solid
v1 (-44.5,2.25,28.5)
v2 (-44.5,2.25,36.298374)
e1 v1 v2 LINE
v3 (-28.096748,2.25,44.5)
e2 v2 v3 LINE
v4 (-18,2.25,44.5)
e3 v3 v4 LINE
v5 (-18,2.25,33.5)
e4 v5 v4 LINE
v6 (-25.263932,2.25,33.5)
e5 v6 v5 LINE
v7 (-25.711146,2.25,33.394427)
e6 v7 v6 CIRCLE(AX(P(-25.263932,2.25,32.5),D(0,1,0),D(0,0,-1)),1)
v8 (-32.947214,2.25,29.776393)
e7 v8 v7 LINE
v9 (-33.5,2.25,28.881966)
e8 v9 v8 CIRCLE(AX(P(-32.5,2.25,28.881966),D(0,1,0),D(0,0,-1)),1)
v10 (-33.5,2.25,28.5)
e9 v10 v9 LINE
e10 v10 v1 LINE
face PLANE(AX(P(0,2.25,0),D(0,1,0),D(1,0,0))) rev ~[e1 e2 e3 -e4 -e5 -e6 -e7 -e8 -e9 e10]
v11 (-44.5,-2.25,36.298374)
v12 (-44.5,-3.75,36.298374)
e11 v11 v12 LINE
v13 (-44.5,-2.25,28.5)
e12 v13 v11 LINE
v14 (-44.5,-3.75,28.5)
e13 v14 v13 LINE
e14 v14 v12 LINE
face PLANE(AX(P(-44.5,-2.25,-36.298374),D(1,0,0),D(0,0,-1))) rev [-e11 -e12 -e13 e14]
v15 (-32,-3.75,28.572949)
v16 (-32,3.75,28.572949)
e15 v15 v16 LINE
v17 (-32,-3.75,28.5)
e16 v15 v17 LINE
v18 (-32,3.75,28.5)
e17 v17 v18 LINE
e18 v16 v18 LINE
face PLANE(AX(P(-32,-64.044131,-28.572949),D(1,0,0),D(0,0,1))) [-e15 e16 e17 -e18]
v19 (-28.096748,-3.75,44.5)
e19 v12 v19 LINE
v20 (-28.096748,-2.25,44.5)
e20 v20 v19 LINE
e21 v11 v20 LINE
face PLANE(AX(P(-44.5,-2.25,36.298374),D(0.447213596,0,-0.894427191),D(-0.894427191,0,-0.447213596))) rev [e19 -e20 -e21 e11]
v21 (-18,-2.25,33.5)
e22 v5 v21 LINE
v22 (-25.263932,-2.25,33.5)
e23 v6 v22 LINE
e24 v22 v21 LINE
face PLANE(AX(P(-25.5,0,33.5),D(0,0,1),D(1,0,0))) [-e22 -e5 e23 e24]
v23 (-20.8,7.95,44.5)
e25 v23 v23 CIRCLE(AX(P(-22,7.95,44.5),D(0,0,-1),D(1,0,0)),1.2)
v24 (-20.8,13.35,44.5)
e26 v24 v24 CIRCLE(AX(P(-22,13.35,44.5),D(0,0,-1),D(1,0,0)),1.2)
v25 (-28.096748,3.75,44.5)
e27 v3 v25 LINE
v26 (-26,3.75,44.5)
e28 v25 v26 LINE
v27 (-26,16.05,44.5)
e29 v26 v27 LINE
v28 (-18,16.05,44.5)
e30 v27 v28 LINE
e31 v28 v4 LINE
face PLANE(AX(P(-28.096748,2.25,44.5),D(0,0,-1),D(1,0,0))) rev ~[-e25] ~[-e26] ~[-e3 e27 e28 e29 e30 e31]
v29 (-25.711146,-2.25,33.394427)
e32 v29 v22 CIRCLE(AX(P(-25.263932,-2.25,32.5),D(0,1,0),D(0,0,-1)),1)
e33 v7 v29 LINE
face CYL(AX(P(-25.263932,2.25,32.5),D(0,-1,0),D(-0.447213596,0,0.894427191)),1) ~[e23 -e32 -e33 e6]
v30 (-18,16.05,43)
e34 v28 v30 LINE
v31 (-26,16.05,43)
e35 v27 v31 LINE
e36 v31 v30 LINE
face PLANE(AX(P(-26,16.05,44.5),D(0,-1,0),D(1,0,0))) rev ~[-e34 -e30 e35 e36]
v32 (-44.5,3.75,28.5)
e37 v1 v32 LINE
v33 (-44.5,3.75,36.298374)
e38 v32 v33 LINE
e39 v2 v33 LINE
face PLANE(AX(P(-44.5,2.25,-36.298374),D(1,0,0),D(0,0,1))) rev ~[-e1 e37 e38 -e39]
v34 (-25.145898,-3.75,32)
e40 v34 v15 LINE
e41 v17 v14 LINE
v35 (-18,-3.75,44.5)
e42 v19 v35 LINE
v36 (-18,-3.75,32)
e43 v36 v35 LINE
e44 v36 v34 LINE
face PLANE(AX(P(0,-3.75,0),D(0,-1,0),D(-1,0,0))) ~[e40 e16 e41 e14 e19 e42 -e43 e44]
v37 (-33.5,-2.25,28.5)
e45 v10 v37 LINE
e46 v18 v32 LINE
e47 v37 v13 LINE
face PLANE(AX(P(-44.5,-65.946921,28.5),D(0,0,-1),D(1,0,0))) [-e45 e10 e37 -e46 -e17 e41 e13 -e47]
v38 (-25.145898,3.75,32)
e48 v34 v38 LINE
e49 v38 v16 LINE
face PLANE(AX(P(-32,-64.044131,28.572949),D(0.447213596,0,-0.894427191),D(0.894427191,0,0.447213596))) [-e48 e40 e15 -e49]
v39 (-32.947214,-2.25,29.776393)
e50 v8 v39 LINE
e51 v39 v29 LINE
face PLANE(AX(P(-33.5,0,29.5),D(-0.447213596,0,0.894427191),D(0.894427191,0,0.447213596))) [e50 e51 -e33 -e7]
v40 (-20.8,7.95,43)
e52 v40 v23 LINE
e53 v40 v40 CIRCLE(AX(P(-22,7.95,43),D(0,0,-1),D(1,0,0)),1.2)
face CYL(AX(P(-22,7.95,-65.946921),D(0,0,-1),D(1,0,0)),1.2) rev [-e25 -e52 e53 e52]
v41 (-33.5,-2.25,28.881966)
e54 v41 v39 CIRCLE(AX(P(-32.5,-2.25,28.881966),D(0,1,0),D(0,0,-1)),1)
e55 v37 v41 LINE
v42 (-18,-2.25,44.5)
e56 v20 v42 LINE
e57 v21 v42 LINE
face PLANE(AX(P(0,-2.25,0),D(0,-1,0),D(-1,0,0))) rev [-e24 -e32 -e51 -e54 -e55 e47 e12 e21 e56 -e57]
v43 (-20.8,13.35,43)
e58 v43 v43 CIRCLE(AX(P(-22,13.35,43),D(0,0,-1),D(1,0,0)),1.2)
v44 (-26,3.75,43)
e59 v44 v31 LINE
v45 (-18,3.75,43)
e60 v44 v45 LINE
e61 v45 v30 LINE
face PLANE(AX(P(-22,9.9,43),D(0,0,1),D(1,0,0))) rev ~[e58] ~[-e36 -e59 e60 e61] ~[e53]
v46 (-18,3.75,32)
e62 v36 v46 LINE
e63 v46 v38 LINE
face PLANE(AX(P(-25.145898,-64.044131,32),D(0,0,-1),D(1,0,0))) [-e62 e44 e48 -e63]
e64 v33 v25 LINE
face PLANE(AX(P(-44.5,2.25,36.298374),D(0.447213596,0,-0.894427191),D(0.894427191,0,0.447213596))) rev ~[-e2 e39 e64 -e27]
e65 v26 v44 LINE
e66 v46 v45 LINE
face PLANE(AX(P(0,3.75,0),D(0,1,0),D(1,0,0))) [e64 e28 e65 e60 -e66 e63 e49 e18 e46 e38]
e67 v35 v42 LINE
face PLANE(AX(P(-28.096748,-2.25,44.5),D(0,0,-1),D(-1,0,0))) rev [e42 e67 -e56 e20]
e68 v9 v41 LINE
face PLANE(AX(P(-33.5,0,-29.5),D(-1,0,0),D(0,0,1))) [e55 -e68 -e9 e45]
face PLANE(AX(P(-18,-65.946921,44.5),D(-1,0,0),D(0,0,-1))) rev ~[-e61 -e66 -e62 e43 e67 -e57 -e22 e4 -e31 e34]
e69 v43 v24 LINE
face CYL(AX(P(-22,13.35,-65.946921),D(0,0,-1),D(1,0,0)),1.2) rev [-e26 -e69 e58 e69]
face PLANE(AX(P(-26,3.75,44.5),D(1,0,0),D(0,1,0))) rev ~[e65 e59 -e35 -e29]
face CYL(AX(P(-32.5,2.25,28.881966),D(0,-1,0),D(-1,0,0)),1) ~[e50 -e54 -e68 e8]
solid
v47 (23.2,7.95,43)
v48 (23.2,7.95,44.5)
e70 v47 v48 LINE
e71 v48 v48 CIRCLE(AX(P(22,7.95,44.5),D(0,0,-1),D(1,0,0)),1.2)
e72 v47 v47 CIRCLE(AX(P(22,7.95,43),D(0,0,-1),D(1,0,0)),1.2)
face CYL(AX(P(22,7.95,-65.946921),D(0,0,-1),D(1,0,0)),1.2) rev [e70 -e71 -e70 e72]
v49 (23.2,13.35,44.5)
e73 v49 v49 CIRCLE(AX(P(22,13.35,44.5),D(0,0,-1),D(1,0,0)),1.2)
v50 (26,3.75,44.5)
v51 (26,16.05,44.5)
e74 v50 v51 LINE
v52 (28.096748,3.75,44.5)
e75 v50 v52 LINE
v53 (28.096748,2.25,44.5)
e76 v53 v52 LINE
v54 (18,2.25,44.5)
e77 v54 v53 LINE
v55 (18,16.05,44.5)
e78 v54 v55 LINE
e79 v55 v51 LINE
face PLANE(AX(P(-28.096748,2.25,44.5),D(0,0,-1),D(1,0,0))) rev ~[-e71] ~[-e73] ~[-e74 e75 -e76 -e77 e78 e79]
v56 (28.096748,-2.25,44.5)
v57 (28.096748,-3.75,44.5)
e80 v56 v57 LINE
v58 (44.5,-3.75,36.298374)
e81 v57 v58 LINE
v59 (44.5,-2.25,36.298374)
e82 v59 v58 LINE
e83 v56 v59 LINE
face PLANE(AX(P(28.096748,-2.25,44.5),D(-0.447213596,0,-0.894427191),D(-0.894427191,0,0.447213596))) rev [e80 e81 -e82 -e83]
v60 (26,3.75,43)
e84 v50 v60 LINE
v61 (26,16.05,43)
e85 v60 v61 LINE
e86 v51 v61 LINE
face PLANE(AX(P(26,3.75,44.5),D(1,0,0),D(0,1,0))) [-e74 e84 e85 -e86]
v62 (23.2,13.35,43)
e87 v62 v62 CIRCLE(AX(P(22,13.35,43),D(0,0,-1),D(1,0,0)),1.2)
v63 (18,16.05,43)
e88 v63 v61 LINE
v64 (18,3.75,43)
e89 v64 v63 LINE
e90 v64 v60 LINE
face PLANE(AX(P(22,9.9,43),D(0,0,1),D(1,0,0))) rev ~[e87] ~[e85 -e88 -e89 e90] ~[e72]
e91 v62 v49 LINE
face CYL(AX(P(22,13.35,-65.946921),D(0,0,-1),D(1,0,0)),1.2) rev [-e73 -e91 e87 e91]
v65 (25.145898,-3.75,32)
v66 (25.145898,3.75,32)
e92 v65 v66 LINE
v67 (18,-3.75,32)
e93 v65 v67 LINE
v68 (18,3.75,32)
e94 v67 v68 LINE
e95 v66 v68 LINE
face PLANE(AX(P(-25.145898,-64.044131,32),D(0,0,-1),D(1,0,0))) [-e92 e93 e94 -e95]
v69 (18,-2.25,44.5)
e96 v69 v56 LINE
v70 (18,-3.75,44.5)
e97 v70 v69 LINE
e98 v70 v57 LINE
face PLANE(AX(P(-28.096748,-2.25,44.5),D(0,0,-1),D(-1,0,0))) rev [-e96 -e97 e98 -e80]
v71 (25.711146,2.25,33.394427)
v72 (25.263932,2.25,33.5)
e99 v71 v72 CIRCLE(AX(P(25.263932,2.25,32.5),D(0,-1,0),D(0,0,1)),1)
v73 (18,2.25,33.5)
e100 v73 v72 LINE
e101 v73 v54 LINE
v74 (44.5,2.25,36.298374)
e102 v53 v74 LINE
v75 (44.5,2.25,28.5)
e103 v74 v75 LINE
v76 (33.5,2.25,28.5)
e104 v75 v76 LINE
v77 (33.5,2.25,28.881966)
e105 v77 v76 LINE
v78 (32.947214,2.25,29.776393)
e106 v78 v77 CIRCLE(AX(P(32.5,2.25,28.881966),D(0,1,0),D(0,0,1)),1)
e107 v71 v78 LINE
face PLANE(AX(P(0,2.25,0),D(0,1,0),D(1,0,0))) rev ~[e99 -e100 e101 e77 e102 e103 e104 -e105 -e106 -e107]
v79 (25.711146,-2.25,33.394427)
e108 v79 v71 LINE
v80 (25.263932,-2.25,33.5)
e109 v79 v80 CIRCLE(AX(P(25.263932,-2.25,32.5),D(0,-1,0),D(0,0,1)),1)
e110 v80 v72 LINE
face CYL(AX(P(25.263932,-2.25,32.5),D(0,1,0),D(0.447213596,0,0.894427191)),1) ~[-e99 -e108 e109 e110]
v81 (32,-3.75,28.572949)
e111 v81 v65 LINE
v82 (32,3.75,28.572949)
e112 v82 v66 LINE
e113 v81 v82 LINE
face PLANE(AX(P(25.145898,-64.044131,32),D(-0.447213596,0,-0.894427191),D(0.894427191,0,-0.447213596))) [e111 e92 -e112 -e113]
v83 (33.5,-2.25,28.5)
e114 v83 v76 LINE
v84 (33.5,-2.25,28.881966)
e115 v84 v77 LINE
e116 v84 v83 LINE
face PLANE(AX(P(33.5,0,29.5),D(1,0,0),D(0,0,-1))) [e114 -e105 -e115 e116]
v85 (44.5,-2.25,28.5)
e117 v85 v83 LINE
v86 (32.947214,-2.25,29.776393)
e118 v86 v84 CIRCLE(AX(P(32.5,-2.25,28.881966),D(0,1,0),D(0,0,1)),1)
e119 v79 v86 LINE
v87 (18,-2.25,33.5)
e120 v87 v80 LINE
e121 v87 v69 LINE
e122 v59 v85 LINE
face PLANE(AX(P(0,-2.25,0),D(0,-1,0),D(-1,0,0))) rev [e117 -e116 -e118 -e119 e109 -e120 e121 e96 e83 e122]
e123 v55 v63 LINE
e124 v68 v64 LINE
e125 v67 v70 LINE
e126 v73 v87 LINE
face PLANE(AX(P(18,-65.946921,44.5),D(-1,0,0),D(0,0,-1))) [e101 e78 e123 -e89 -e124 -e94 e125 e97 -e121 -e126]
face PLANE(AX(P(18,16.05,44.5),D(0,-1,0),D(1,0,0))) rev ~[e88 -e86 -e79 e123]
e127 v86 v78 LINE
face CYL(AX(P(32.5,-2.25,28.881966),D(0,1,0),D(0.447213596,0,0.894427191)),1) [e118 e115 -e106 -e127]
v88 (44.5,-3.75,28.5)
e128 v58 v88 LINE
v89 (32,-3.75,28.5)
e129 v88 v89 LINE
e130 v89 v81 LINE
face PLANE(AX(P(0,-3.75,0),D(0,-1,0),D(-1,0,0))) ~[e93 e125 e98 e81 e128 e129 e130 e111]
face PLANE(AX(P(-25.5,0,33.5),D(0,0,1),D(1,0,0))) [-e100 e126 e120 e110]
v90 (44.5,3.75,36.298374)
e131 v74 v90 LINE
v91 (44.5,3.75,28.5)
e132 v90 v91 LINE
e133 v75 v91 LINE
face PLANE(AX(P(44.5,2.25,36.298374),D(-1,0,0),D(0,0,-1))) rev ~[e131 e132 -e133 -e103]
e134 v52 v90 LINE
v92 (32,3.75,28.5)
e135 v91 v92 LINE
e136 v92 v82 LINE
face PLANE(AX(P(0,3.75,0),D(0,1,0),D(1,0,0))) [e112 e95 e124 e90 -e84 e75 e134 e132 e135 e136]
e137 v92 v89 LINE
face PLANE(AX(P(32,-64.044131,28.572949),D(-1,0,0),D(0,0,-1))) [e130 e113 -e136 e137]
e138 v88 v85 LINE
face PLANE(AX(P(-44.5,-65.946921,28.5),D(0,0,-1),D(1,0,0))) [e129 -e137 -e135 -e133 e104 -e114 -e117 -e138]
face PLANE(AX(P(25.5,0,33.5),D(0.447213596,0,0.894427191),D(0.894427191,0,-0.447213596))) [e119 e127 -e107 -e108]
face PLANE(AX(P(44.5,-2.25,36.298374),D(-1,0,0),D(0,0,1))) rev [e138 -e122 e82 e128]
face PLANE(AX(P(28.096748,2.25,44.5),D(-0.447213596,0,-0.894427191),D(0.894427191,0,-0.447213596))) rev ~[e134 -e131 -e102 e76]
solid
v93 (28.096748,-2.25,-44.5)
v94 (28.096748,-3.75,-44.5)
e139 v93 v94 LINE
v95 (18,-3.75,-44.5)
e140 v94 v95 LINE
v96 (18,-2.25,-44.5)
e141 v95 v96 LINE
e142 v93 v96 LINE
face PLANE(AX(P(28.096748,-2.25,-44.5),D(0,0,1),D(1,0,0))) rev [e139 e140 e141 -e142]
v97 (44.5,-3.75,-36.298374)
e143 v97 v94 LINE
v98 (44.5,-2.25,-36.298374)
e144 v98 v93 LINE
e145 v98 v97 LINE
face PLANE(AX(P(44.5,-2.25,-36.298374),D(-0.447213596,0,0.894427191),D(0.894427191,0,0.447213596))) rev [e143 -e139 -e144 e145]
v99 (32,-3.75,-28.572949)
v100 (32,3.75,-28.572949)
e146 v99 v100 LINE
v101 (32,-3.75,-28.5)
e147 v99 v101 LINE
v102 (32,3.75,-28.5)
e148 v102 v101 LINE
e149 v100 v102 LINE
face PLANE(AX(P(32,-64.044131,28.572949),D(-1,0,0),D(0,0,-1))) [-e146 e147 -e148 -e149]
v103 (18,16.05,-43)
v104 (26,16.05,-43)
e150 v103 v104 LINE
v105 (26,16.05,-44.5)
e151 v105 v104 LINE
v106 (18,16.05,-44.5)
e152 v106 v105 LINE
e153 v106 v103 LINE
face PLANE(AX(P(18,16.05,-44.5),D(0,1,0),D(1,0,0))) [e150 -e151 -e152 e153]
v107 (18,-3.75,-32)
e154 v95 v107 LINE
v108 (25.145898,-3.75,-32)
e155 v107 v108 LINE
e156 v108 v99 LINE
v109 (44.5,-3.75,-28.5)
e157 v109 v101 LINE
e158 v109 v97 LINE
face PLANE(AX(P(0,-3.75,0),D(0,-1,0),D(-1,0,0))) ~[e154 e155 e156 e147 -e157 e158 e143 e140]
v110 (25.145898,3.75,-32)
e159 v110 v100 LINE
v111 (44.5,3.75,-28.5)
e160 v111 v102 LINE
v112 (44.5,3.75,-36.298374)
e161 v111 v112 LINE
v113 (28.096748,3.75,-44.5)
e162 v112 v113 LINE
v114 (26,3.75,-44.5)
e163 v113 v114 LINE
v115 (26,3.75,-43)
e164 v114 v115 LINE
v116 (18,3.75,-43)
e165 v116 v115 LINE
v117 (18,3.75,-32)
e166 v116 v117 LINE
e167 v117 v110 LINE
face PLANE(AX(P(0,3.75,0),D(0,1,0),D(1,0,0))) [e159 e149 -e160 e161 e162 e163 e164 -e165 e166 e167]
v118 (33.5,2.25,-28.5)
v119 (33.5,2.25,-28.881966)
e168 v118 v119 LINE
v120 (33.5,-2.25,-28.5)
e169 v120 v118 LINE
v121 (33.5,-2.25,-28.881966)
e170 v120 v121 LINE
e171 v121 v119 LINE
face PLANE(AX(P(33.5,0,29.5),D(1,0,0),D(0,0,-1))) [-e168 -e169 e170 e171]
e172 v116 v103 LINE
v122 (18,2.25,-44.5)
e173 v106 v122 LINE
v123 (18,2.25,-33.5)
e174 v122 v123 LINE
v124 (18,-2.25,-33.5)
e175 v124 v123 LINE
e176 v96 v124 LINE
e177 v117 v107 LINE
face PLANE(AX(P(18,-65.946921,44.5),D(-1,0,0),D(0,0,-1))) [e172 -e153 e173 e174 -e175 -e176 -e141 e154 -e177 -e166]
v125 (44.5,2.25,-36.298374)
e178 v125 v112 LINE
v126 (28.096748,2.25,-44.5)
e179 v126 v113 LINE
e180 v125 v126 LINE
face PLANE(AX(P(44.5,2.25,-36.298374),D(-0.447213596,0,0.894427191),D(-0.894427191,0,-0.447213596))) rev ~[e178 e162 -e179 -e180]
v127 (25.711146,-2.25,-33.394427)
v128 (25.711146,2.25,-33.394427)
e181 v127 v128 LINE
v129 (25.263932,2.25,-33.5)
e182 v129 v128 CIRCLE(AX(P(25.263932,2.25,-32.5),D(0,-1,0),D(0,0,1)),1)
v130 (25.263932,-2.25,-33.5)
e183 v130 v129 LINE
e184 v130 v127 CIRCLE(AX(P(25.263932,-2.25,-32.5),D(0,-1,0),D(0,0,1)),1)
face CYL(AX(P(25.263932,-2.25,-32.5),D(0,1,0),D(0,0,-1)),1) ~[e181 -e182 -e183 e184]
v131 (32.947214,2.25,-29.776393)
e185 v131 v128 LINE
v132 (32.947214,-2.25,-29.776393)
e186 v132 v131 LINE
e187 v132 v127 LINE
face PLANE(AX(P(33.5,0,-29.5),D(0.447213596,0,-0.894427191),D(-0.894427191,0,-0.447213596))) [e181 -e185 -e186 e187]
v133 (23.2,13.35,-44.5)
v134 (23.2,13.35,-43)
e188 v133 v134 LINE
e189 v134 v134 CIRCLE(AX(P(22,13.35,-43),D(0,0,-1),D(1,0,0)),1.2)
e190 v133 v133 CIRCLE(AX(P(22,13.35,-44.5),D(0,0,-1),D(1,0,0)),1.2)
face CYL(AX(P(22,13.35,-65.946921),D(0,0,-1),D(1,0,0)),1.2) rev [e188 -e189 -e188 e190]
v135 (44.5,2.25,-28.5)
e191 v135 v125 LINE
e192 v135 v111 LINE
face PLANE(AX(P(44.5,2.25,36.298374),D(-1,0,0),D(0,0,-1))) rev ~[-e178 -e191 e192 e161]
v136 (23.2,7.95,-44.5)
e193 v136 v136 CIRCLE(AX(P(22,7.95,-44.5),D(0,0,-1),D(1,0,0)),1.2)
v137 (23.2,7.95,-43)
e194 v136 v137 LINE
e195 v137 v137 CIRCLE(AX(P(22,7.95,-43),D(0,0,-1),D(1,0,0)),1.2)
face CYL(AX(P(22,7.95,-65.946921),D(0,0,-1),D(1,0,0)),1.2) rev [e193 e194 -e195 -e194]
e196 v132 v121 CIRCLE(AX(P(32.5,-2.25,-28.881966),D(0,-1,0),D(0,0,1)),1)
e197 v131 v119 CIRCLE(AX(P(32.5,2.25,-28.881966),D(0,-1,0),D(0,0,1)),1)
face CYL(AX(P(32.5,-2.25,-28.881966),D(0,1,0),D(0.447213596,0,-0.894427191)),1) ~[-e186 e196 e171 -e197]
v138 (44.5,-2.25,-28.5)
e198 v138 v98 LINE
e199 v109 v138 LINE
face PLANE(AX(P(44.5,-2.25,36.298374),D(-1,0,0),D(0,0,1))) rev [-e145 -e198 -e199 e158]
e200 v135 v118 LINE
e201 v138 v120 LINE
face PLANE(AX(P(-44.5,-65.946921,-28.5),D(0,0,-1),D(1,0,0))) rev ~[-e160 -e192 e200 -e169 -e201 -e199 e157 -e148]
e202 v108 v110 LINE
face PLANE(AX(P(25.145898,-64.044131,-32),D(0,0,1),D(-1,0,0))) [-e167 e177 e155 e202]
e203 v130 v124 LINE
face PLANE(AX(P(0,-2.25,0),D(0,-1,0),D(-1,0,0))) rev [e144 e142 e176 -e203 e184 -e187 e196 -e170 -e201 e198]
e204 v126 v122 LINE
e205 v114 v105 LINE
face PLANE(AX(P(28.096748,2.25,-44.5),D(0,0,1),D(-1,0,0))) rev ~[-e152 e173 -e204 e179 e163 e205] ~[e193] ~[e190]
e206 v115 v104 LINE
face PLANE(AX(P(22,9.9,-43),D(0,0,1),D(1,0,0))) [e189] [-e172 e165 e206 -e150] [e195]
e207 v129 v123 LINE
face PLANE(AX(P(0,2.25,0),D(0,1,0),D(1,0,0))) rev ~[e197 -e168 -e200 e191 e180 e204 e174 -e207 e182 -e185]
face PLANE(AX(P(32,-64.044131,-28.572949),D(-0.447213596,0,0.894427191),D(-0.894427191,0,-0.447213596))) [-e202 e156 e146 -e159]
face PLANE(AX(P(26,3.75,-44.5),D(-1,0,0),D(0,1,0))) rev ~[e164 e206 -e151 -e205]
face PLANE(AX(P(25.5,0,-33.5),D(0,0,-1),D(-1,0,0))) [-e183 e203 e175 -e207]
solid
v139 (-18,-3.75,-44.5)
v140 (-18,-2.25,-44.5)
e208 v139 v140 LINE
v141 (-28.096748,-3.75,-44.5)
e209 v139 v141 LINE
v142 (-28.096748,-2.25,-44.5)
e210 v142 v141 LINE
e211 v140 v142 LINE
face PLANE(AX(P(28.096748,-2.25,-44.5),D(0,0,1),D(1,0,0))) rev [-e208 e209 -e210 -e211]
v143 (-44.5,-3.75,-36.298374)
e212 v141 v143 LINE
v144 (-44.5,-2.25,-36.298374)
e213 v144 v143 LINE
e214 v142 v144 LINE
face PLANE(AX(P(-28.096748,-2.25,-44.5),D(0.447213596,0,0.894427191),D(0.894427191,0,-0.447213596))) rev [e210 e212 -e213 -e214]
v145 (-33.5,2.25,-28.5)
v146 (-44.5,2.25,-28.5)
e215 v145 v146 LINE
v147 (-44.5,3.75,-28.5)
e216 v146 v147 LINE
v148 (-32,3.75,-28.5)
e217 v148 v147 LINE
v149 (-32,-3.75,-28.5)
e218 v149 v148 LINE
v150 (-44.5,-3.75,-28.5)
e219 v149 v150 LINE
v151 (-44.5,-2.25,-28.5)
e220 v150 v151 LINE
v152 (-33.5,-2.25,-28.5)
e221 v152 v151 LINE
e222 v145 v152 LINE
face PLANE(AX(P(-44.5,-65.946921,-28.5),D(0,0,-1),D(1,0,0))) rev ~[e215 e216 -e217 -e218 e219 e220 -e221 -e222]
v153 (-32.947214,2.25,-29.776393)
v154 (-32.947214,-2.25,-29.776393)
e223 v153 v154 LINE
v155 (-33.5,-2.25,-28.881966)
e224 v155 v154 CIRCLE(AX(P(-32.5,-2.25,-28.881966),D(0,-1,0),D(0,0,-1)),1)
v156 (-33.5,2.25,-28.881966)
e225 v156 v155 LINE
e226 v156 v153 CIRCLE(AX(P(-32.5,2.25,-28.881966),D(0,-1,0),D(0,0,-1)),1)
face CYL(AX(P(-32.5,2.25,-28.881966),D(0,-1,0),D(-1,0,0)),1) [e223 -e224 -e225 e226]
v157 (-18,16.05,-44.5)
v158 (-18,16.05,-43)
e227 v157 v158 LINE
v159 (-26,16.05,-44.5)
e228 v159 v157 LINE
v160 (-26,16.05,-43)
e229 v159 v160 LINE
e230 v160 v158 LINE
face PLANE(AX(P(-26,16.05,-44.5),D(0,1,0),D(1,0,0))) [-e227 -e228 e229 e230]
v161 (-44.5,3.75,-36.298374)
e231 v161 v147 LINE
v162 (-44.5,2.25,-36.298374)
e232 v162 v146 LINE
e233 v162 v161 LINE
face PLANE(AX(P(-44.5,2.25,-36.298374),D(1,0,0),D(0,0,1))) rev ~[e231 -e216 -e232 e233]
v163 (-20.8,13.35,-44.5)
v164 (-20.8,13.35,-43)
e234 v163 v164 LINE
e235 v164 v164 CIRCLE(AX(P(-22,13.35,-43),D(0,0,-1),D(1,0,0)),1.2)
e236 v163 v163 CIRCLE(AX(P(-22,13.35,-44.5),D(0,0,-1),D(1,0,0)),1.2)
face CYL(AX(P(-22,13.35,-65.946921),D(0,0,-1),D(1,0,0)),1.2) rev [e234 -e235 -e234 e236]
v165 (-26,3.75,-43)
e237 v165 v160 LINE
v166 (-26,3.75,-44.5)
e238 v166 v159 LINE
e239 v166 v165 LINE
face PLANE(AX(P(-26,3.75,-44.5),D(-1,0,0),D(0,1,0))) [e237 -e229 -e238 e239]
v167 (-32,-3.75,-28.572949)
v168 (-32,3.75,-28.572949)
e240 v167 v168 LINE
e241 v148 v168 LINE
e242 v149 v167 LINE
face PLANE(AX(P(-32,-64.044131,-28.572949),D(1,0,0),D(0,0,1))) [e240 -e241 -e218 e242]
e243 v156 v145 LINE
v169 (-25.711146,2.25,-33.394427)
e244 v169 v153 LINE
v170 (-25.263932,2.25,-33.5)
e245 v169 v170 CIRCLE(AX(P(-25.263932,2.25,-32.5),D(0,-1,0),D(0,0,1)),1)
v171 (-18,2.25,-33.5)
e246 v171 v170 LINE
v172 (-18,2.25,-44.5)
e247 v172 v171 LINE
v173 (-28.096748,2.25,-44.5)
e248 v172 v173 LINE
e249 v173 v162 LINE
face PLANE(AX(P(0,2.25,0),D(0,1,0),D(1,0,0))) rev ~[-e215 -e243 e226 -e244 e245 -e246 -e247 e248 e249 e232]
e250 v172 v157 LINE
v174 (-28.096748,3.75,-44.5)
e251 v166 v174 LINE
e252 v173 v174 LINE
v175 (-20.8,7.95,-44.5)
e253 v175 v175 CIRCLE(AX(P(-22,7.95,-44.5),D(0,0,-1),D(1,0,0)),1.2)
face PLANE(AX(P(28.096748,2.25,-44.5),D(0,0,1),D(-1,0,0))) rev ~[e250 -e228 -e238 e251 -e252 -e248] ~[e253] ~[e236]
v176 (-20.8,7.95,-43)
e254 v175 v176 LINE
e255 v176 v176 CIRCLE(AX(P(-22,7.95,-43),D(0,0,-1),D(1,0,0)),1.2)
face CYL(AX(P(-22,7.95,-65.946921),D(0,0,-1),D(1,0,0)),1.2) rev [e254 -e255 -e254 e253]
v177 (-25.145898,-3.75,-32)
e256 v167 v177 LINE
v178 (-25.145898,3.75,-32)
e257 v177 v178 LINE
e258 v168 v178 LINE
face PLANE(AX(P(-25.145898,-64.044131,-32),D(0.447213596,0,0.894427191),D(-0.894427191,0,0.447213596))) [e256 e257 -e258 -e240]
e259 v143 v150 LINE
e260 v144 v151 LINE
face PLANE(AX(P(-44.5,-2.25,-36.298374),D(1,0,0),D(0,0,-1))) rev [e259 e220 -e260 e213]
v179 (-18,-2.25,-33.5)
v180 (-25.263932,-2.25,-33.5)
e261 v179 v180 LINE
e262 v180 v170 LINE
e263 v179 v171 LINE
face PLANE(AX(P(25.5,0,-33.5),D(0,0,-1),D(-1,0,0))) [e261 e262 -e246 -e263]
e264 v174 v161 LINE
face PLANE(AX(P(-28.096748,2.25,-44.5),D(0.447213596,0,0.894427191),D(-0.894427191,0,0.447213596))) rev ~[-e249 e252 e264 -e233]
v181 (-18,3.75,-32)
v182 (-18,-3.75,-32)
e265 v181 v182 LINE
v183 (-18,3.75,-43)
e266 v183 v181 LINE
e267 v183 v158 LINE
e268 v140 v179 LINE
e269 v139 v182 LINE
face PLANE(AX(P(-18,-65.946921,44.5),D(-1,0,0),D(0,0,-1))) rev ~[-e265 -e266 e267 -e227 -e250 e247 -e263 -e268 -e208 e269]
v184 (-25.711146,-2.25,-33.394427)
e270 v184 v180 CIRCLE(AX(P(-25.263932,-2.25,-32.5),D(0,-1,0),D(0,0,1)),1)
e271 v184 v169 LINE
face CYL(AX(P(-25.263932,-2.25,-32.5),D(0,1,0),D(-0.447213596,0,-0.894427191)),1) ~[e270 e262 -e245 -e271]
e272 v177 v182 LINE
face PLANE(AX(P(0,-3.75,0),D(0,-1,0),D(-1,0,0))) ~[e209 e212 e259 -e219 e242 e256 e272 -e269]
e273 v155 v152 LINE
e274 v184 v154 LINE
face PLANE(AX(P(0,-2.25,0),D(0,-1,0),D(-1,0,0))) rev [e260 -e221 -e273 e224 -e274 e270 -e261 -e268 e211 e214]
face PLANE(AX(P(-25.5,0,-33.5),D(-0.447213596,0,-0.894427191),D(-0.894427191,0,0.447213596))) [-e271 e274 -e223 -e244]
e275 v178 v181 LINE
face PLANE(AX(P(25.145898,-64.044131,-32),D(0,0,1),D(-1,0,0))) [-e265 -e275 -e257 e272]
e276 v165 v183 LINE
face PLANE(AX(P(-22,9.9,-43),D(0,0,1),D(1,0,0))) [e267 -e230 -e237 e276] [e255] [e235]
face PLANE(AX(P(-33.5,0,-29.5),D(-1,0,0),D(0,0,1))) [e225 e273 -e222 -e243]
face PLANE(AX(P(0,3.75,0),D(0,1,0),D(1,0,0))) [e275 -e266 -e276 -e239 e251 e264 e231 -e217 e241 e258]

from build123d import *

# Parameters (mm, degrees)
BOSS_EXTRUDE1_DEPTH     = 2.25
BOSS_EXTRUDE2_DEPTH     = 1.5
CUT_EXTRUDE1_DEPTH      = 64.044131368
CUT_EXTRUDE1_DEPTH_BACK = 64.044131368
BOSS_EXTRUDE3_START     = 44.5
SKETCH5_W               = 8
SKETCH5_H               = 12.3
BOSS_EXTRUDE3_DEPTH     = 1.5
BOSS_EXTRUDE4_START     = -44.5
SKETCH5_2_W             = 8
SKETCH5_2_H             = 12.3
BOSS_EXTRUDE4_DEPTH     = 1.5
CUT_EXTRUDE3_DEPTH      = 65.946920635
CUT_EXTRUDE3_DEPTH_BACK = 65.946920635
SKETCH6_R               = 1.2
CUT_EXTRUDE6_DEPTH      = 65.946920635
CUT_EXTRUDE6_DEPTH_BACK = 65.946920635
SKETCH7_W               = 89
SKETCH7_H               = 57
CUT_EXTRUDE7_DEPTH      = 65.946920635
CUT_EXTRUDE7_DEPTH_BACK = 65.946920635
SKETCH8_W               = 36
SKETCH8_H               = 89
FILLET1_R               = 1
FILLET2_R               = 1
FILLET3_R               = 1
FILLET4_R               = 1


with BuildPart() as part:
    # Sketch1 → Boss-Extrude1 (new, symmetric)
    with BuildSketch(Plane(origin=(0, 0, 0), x_dir=(1, 0, 0), z_dir=(0, 1, 0))):
        Polygon((-25.5, -33.5), (25.5, -33.5), (33.5, -29.5), (33.5, 29.5), (25.5, 33.5), (-25.5, 33.5), (-33.5, 29.5), (-33.5, -29.5), align=None)
    extrude(amount=BOSS_EXTRUDE1_DEPTH, both=True)

    # Sketch2 → Boss-Extrude2 (add)
    with BuildSketch(Plane(origin=(0, 2.25, 0), x_dir=(1, 0, 0), z_dir=(0, 1, 0))):
        Polygon((28.096747752, -44.5), (44.5, -36.298373876), (44.5, 36.298373876), (28.096747752, 44.5), (-28.096747752, 44.5), (-44.5, 36.298373876), (-44.5, -36.298373876), (-28.096747752, -44.5), align=None)
    boss_extrude2 = extrude(amount=BOSS_EXTRUDE2_DEPTH)

    # Mirror1: Boss-Extrude2 across plane
    add(boss_extrude2.mirror(Plane.ZX))

    # Sketch3 → Cut-Extrude1 (cut, two sides: drawn at the far end of the back side and taken through both)
    with BuildSketch(Plane(origin=(0, 0, 0), x_dir=(1, 0, 0), z_dir=(0, 1, 0)).offset(-CUT_EXTRUDE1_DEPTH_BACK)):
        Polygon((-25.145898034, -32), (25.145898034, -32), (32, -28.572949017), (32, 28.572949017), (25.145898034, 32), (-25.145898034, 32), (-32, 28.572949017), (-32, -28.572949017), align=None)
    extrude(amount=CUT_EXTRUDE1_DEPTH + CUT_EXTRUDE1_DEPTH_BACK, mode=Mode.SUBTRACT)

    # Sketch5 → Boss-Extrude3 (add)
    with BuildSketch(Plane.XY.offset(BOSS_EXTRUDE3_START)):
        with Locations((-22, 9.9)):
            Rectangle(SKETCH5_W, SKETCH5_H)
        with Locations((22, 9.9)):
            Rectangle(SKETCH5_W, SKETCH5_H)
    extrude(amount=-BOSS_EXTRUDE3_DEPTH)

    # Sketch5<2> → Boss-Extrude4 (add)
    with BuildSketch(Plane.XY.offset(BOSS_EXTRUDE4_START)):
        with Locations((-22, 9.9)):
            Rectangle(SKETCH5_2_W, SKETCH5_2_H)
        with Locations((22, 9.9)):
            Rectangle(SKETCH5_2_W, SKETCH5_2_H)
    extrude(amount=BOSS_EXTRUDE4_DEPTH)

    # Sketch6 → Cut-Extrude3 (cut, two sides: drawn at the far end of the back side and taken through both)
    with BuildSketch(Plane.XY.offset(-CUT_EXTRUDE3_DEPTH_BACK)):
        with Locations((-22, 13.35)):
            Circle(SKETCH6_R)
        with Locations((22, 13.35)):
            Circle(SKETCH6_R)
        with Locations((22, 7.95)):
            Circle(SKETCH6_R)
        with Locations((-22, 7.95)):
            Circle(SKETCH6_R)
    extrude(amount=CUT_EXTRUDE3_DEPTH + CUT_EXTRUDE3_DEPTH_BACK, mode=Mode.SUBTRACT)

    # Sketch7 → Cut-Extrude6 (cut, two sides: drawn at the far end of the back side and taken through both)
    with BuildSketch(Plane(origin=(0, 0, 0), x_dir=(1, 0, 0), z_dir=(0, 1, 0)).offset(-CUT_EXTRUDE6_DEPTH_BACK)):
        Rectangle(SKETCH7_W, SKETCH7_H)
    extrude(amount=CUT_EXTRUDE6_DEPTH + CUT_EXTRUDE6_DEPTH_BACK, mode=Mode.SUBTRACT)


with BuildPart() as cut_extrude6_piece_1:
    # of the separate pieces the step leaves, piece 1, a body of its own (cut_extrude6_pieces)
    add(part.part.solids().sort_by_distance((28.096747752, -2.25, 44.5))[0])


with BuildPart() as cut_extrude6_piece_2:
    # of the separate pieces the step leaves, piece 2, a body of its own (cut_extrude6_pieces)
    add(part.part.solids().sort_by_distance((44.5, -2.25, -28.5))[0])


with BuildPart() as cut_extrude7_tool:
    # Sketch8 → Cut-Extrude7 (new, two sides: drawn at the far end of the back side and taken through both)
    with BuildSketch(Plane(origin=(0, 0, 0), x_dir=(1, 0, 0), z_dir=(0, 1, 0)).offset(-CUT_EXTRUDE7_DEPTH_BACK)):
        Rectangle(SKETCH8_W, SKETCH8_H)
    extrude(amount=CUT_EXTRUDE7_DEPTH + CUT_EXTRUDE7_DEPTH_BACK)


with BuildPart() as cut_extrude6_piece_1_1:
    add(cut_extrude6_piece_1.part)

    # Cut-Extrude7: cut by cut_extrude7_tool
    add(cut_extrude7_tool.part, mode=Mode.SUBTRACT)


with BuildPart() as cut_extrude6_piece_2_1:
    add(cut_extrude6_piece_2.part)

    # Cut-Extrude7: cut by cut_extrude7_tool
    add(cut_extrude7_tool.part, mode=Mode.SUBTRACT)


with BuildPart() as cut_extrude7_piece_1:
    # of the separate pieces the step leaves, piece 1, a body of its own (cut_extrude7_pieces)
    add(cut_extrude6_piece_1_1.part.solids().sort_by_distance((28.096747752, -2.25, 44.5))[0])

    # Fillet1
    fillet1_edges = [cut_extrude7_piece_1.edges().sort_by_distance(p)[0] for p in [
        (33.5, 0, 29.5),
        (25.5, 0, 33.5),
    ]]
    fillet(fillet1_edges, radius=FILLET1_R)


with BuildPart() as cut_extrude7_piece_2:
    # of the separate pieces the step leaves, piece 2, a body of its own (cut_extrude7_pieces)
    add(cut_extrude6_piece_1_1.part.solids().sort_by_distance((-28.096747752, -2.25, 44.5))[0])

    # Fillet4
    fillet4_edges = [cut_extrude7_piece_2.edges().sort_by_distance(p)[0] for p in [
        (-33.5, 0, 29.5),
        (-25.5, 0, 33.5),
    ]]
    fillet(fillet4_edges, radius=FILLET4_R)


with BuildPart() as cut_extrude7_piece_1_of_cut_extrude6_pie:
    # of the separate pieces the step leaves, piece 1, a body of its own (cut_extrude7_pieces_of_cut_extrude6_piec)
    add(cut_extrude6_piece_2_1.part.solids().sort_by_distance((44.5, -2.25, -28.5))[0])

    # Fillet2
    fillet2_edges = [cut_extrude7_piece_1_of_cut_extrude6_pie.edges().sort_by_distance(p)[0] for p in [
        (25.5, 0, -33.5),
        (33.5, 0, -29.5),
    ]]
    fillet(fillet2_edges, radius=FILLET2_R)


with BuildPart() as cut_extrude7_piece_2_of_cut_extrude6_pie:
    # of the separate pieces the step leaves, piece 2, a body of its own (cut_extrude7_pieces_of_cut_extrude6_piec)
    add(cut_extrude6_piece_2_1.part.solids().sort_by_distance((-18, -2.25, -33.5))[0])

    # Fillet3
    fillet3_edges = [cut_extrude7_piece_2_of_cut_extrude6_pie.edges().sort_by_distance(p)[0] for p in [
        (-33.5, 0, -29.5),
        (-25.5, 0, -33.5),
    ]]
    fillet(fillet3_edges, radius=FILLET3_R)


solid = Compound([cut_extrude7_piece_1.part, cut_extrude7_piece_2.part, cut_extrude7_piece_1_of_cut_extrude6_pie.part, cut_extrude7_piece_2_of_cut_extrude6_pie.part])
